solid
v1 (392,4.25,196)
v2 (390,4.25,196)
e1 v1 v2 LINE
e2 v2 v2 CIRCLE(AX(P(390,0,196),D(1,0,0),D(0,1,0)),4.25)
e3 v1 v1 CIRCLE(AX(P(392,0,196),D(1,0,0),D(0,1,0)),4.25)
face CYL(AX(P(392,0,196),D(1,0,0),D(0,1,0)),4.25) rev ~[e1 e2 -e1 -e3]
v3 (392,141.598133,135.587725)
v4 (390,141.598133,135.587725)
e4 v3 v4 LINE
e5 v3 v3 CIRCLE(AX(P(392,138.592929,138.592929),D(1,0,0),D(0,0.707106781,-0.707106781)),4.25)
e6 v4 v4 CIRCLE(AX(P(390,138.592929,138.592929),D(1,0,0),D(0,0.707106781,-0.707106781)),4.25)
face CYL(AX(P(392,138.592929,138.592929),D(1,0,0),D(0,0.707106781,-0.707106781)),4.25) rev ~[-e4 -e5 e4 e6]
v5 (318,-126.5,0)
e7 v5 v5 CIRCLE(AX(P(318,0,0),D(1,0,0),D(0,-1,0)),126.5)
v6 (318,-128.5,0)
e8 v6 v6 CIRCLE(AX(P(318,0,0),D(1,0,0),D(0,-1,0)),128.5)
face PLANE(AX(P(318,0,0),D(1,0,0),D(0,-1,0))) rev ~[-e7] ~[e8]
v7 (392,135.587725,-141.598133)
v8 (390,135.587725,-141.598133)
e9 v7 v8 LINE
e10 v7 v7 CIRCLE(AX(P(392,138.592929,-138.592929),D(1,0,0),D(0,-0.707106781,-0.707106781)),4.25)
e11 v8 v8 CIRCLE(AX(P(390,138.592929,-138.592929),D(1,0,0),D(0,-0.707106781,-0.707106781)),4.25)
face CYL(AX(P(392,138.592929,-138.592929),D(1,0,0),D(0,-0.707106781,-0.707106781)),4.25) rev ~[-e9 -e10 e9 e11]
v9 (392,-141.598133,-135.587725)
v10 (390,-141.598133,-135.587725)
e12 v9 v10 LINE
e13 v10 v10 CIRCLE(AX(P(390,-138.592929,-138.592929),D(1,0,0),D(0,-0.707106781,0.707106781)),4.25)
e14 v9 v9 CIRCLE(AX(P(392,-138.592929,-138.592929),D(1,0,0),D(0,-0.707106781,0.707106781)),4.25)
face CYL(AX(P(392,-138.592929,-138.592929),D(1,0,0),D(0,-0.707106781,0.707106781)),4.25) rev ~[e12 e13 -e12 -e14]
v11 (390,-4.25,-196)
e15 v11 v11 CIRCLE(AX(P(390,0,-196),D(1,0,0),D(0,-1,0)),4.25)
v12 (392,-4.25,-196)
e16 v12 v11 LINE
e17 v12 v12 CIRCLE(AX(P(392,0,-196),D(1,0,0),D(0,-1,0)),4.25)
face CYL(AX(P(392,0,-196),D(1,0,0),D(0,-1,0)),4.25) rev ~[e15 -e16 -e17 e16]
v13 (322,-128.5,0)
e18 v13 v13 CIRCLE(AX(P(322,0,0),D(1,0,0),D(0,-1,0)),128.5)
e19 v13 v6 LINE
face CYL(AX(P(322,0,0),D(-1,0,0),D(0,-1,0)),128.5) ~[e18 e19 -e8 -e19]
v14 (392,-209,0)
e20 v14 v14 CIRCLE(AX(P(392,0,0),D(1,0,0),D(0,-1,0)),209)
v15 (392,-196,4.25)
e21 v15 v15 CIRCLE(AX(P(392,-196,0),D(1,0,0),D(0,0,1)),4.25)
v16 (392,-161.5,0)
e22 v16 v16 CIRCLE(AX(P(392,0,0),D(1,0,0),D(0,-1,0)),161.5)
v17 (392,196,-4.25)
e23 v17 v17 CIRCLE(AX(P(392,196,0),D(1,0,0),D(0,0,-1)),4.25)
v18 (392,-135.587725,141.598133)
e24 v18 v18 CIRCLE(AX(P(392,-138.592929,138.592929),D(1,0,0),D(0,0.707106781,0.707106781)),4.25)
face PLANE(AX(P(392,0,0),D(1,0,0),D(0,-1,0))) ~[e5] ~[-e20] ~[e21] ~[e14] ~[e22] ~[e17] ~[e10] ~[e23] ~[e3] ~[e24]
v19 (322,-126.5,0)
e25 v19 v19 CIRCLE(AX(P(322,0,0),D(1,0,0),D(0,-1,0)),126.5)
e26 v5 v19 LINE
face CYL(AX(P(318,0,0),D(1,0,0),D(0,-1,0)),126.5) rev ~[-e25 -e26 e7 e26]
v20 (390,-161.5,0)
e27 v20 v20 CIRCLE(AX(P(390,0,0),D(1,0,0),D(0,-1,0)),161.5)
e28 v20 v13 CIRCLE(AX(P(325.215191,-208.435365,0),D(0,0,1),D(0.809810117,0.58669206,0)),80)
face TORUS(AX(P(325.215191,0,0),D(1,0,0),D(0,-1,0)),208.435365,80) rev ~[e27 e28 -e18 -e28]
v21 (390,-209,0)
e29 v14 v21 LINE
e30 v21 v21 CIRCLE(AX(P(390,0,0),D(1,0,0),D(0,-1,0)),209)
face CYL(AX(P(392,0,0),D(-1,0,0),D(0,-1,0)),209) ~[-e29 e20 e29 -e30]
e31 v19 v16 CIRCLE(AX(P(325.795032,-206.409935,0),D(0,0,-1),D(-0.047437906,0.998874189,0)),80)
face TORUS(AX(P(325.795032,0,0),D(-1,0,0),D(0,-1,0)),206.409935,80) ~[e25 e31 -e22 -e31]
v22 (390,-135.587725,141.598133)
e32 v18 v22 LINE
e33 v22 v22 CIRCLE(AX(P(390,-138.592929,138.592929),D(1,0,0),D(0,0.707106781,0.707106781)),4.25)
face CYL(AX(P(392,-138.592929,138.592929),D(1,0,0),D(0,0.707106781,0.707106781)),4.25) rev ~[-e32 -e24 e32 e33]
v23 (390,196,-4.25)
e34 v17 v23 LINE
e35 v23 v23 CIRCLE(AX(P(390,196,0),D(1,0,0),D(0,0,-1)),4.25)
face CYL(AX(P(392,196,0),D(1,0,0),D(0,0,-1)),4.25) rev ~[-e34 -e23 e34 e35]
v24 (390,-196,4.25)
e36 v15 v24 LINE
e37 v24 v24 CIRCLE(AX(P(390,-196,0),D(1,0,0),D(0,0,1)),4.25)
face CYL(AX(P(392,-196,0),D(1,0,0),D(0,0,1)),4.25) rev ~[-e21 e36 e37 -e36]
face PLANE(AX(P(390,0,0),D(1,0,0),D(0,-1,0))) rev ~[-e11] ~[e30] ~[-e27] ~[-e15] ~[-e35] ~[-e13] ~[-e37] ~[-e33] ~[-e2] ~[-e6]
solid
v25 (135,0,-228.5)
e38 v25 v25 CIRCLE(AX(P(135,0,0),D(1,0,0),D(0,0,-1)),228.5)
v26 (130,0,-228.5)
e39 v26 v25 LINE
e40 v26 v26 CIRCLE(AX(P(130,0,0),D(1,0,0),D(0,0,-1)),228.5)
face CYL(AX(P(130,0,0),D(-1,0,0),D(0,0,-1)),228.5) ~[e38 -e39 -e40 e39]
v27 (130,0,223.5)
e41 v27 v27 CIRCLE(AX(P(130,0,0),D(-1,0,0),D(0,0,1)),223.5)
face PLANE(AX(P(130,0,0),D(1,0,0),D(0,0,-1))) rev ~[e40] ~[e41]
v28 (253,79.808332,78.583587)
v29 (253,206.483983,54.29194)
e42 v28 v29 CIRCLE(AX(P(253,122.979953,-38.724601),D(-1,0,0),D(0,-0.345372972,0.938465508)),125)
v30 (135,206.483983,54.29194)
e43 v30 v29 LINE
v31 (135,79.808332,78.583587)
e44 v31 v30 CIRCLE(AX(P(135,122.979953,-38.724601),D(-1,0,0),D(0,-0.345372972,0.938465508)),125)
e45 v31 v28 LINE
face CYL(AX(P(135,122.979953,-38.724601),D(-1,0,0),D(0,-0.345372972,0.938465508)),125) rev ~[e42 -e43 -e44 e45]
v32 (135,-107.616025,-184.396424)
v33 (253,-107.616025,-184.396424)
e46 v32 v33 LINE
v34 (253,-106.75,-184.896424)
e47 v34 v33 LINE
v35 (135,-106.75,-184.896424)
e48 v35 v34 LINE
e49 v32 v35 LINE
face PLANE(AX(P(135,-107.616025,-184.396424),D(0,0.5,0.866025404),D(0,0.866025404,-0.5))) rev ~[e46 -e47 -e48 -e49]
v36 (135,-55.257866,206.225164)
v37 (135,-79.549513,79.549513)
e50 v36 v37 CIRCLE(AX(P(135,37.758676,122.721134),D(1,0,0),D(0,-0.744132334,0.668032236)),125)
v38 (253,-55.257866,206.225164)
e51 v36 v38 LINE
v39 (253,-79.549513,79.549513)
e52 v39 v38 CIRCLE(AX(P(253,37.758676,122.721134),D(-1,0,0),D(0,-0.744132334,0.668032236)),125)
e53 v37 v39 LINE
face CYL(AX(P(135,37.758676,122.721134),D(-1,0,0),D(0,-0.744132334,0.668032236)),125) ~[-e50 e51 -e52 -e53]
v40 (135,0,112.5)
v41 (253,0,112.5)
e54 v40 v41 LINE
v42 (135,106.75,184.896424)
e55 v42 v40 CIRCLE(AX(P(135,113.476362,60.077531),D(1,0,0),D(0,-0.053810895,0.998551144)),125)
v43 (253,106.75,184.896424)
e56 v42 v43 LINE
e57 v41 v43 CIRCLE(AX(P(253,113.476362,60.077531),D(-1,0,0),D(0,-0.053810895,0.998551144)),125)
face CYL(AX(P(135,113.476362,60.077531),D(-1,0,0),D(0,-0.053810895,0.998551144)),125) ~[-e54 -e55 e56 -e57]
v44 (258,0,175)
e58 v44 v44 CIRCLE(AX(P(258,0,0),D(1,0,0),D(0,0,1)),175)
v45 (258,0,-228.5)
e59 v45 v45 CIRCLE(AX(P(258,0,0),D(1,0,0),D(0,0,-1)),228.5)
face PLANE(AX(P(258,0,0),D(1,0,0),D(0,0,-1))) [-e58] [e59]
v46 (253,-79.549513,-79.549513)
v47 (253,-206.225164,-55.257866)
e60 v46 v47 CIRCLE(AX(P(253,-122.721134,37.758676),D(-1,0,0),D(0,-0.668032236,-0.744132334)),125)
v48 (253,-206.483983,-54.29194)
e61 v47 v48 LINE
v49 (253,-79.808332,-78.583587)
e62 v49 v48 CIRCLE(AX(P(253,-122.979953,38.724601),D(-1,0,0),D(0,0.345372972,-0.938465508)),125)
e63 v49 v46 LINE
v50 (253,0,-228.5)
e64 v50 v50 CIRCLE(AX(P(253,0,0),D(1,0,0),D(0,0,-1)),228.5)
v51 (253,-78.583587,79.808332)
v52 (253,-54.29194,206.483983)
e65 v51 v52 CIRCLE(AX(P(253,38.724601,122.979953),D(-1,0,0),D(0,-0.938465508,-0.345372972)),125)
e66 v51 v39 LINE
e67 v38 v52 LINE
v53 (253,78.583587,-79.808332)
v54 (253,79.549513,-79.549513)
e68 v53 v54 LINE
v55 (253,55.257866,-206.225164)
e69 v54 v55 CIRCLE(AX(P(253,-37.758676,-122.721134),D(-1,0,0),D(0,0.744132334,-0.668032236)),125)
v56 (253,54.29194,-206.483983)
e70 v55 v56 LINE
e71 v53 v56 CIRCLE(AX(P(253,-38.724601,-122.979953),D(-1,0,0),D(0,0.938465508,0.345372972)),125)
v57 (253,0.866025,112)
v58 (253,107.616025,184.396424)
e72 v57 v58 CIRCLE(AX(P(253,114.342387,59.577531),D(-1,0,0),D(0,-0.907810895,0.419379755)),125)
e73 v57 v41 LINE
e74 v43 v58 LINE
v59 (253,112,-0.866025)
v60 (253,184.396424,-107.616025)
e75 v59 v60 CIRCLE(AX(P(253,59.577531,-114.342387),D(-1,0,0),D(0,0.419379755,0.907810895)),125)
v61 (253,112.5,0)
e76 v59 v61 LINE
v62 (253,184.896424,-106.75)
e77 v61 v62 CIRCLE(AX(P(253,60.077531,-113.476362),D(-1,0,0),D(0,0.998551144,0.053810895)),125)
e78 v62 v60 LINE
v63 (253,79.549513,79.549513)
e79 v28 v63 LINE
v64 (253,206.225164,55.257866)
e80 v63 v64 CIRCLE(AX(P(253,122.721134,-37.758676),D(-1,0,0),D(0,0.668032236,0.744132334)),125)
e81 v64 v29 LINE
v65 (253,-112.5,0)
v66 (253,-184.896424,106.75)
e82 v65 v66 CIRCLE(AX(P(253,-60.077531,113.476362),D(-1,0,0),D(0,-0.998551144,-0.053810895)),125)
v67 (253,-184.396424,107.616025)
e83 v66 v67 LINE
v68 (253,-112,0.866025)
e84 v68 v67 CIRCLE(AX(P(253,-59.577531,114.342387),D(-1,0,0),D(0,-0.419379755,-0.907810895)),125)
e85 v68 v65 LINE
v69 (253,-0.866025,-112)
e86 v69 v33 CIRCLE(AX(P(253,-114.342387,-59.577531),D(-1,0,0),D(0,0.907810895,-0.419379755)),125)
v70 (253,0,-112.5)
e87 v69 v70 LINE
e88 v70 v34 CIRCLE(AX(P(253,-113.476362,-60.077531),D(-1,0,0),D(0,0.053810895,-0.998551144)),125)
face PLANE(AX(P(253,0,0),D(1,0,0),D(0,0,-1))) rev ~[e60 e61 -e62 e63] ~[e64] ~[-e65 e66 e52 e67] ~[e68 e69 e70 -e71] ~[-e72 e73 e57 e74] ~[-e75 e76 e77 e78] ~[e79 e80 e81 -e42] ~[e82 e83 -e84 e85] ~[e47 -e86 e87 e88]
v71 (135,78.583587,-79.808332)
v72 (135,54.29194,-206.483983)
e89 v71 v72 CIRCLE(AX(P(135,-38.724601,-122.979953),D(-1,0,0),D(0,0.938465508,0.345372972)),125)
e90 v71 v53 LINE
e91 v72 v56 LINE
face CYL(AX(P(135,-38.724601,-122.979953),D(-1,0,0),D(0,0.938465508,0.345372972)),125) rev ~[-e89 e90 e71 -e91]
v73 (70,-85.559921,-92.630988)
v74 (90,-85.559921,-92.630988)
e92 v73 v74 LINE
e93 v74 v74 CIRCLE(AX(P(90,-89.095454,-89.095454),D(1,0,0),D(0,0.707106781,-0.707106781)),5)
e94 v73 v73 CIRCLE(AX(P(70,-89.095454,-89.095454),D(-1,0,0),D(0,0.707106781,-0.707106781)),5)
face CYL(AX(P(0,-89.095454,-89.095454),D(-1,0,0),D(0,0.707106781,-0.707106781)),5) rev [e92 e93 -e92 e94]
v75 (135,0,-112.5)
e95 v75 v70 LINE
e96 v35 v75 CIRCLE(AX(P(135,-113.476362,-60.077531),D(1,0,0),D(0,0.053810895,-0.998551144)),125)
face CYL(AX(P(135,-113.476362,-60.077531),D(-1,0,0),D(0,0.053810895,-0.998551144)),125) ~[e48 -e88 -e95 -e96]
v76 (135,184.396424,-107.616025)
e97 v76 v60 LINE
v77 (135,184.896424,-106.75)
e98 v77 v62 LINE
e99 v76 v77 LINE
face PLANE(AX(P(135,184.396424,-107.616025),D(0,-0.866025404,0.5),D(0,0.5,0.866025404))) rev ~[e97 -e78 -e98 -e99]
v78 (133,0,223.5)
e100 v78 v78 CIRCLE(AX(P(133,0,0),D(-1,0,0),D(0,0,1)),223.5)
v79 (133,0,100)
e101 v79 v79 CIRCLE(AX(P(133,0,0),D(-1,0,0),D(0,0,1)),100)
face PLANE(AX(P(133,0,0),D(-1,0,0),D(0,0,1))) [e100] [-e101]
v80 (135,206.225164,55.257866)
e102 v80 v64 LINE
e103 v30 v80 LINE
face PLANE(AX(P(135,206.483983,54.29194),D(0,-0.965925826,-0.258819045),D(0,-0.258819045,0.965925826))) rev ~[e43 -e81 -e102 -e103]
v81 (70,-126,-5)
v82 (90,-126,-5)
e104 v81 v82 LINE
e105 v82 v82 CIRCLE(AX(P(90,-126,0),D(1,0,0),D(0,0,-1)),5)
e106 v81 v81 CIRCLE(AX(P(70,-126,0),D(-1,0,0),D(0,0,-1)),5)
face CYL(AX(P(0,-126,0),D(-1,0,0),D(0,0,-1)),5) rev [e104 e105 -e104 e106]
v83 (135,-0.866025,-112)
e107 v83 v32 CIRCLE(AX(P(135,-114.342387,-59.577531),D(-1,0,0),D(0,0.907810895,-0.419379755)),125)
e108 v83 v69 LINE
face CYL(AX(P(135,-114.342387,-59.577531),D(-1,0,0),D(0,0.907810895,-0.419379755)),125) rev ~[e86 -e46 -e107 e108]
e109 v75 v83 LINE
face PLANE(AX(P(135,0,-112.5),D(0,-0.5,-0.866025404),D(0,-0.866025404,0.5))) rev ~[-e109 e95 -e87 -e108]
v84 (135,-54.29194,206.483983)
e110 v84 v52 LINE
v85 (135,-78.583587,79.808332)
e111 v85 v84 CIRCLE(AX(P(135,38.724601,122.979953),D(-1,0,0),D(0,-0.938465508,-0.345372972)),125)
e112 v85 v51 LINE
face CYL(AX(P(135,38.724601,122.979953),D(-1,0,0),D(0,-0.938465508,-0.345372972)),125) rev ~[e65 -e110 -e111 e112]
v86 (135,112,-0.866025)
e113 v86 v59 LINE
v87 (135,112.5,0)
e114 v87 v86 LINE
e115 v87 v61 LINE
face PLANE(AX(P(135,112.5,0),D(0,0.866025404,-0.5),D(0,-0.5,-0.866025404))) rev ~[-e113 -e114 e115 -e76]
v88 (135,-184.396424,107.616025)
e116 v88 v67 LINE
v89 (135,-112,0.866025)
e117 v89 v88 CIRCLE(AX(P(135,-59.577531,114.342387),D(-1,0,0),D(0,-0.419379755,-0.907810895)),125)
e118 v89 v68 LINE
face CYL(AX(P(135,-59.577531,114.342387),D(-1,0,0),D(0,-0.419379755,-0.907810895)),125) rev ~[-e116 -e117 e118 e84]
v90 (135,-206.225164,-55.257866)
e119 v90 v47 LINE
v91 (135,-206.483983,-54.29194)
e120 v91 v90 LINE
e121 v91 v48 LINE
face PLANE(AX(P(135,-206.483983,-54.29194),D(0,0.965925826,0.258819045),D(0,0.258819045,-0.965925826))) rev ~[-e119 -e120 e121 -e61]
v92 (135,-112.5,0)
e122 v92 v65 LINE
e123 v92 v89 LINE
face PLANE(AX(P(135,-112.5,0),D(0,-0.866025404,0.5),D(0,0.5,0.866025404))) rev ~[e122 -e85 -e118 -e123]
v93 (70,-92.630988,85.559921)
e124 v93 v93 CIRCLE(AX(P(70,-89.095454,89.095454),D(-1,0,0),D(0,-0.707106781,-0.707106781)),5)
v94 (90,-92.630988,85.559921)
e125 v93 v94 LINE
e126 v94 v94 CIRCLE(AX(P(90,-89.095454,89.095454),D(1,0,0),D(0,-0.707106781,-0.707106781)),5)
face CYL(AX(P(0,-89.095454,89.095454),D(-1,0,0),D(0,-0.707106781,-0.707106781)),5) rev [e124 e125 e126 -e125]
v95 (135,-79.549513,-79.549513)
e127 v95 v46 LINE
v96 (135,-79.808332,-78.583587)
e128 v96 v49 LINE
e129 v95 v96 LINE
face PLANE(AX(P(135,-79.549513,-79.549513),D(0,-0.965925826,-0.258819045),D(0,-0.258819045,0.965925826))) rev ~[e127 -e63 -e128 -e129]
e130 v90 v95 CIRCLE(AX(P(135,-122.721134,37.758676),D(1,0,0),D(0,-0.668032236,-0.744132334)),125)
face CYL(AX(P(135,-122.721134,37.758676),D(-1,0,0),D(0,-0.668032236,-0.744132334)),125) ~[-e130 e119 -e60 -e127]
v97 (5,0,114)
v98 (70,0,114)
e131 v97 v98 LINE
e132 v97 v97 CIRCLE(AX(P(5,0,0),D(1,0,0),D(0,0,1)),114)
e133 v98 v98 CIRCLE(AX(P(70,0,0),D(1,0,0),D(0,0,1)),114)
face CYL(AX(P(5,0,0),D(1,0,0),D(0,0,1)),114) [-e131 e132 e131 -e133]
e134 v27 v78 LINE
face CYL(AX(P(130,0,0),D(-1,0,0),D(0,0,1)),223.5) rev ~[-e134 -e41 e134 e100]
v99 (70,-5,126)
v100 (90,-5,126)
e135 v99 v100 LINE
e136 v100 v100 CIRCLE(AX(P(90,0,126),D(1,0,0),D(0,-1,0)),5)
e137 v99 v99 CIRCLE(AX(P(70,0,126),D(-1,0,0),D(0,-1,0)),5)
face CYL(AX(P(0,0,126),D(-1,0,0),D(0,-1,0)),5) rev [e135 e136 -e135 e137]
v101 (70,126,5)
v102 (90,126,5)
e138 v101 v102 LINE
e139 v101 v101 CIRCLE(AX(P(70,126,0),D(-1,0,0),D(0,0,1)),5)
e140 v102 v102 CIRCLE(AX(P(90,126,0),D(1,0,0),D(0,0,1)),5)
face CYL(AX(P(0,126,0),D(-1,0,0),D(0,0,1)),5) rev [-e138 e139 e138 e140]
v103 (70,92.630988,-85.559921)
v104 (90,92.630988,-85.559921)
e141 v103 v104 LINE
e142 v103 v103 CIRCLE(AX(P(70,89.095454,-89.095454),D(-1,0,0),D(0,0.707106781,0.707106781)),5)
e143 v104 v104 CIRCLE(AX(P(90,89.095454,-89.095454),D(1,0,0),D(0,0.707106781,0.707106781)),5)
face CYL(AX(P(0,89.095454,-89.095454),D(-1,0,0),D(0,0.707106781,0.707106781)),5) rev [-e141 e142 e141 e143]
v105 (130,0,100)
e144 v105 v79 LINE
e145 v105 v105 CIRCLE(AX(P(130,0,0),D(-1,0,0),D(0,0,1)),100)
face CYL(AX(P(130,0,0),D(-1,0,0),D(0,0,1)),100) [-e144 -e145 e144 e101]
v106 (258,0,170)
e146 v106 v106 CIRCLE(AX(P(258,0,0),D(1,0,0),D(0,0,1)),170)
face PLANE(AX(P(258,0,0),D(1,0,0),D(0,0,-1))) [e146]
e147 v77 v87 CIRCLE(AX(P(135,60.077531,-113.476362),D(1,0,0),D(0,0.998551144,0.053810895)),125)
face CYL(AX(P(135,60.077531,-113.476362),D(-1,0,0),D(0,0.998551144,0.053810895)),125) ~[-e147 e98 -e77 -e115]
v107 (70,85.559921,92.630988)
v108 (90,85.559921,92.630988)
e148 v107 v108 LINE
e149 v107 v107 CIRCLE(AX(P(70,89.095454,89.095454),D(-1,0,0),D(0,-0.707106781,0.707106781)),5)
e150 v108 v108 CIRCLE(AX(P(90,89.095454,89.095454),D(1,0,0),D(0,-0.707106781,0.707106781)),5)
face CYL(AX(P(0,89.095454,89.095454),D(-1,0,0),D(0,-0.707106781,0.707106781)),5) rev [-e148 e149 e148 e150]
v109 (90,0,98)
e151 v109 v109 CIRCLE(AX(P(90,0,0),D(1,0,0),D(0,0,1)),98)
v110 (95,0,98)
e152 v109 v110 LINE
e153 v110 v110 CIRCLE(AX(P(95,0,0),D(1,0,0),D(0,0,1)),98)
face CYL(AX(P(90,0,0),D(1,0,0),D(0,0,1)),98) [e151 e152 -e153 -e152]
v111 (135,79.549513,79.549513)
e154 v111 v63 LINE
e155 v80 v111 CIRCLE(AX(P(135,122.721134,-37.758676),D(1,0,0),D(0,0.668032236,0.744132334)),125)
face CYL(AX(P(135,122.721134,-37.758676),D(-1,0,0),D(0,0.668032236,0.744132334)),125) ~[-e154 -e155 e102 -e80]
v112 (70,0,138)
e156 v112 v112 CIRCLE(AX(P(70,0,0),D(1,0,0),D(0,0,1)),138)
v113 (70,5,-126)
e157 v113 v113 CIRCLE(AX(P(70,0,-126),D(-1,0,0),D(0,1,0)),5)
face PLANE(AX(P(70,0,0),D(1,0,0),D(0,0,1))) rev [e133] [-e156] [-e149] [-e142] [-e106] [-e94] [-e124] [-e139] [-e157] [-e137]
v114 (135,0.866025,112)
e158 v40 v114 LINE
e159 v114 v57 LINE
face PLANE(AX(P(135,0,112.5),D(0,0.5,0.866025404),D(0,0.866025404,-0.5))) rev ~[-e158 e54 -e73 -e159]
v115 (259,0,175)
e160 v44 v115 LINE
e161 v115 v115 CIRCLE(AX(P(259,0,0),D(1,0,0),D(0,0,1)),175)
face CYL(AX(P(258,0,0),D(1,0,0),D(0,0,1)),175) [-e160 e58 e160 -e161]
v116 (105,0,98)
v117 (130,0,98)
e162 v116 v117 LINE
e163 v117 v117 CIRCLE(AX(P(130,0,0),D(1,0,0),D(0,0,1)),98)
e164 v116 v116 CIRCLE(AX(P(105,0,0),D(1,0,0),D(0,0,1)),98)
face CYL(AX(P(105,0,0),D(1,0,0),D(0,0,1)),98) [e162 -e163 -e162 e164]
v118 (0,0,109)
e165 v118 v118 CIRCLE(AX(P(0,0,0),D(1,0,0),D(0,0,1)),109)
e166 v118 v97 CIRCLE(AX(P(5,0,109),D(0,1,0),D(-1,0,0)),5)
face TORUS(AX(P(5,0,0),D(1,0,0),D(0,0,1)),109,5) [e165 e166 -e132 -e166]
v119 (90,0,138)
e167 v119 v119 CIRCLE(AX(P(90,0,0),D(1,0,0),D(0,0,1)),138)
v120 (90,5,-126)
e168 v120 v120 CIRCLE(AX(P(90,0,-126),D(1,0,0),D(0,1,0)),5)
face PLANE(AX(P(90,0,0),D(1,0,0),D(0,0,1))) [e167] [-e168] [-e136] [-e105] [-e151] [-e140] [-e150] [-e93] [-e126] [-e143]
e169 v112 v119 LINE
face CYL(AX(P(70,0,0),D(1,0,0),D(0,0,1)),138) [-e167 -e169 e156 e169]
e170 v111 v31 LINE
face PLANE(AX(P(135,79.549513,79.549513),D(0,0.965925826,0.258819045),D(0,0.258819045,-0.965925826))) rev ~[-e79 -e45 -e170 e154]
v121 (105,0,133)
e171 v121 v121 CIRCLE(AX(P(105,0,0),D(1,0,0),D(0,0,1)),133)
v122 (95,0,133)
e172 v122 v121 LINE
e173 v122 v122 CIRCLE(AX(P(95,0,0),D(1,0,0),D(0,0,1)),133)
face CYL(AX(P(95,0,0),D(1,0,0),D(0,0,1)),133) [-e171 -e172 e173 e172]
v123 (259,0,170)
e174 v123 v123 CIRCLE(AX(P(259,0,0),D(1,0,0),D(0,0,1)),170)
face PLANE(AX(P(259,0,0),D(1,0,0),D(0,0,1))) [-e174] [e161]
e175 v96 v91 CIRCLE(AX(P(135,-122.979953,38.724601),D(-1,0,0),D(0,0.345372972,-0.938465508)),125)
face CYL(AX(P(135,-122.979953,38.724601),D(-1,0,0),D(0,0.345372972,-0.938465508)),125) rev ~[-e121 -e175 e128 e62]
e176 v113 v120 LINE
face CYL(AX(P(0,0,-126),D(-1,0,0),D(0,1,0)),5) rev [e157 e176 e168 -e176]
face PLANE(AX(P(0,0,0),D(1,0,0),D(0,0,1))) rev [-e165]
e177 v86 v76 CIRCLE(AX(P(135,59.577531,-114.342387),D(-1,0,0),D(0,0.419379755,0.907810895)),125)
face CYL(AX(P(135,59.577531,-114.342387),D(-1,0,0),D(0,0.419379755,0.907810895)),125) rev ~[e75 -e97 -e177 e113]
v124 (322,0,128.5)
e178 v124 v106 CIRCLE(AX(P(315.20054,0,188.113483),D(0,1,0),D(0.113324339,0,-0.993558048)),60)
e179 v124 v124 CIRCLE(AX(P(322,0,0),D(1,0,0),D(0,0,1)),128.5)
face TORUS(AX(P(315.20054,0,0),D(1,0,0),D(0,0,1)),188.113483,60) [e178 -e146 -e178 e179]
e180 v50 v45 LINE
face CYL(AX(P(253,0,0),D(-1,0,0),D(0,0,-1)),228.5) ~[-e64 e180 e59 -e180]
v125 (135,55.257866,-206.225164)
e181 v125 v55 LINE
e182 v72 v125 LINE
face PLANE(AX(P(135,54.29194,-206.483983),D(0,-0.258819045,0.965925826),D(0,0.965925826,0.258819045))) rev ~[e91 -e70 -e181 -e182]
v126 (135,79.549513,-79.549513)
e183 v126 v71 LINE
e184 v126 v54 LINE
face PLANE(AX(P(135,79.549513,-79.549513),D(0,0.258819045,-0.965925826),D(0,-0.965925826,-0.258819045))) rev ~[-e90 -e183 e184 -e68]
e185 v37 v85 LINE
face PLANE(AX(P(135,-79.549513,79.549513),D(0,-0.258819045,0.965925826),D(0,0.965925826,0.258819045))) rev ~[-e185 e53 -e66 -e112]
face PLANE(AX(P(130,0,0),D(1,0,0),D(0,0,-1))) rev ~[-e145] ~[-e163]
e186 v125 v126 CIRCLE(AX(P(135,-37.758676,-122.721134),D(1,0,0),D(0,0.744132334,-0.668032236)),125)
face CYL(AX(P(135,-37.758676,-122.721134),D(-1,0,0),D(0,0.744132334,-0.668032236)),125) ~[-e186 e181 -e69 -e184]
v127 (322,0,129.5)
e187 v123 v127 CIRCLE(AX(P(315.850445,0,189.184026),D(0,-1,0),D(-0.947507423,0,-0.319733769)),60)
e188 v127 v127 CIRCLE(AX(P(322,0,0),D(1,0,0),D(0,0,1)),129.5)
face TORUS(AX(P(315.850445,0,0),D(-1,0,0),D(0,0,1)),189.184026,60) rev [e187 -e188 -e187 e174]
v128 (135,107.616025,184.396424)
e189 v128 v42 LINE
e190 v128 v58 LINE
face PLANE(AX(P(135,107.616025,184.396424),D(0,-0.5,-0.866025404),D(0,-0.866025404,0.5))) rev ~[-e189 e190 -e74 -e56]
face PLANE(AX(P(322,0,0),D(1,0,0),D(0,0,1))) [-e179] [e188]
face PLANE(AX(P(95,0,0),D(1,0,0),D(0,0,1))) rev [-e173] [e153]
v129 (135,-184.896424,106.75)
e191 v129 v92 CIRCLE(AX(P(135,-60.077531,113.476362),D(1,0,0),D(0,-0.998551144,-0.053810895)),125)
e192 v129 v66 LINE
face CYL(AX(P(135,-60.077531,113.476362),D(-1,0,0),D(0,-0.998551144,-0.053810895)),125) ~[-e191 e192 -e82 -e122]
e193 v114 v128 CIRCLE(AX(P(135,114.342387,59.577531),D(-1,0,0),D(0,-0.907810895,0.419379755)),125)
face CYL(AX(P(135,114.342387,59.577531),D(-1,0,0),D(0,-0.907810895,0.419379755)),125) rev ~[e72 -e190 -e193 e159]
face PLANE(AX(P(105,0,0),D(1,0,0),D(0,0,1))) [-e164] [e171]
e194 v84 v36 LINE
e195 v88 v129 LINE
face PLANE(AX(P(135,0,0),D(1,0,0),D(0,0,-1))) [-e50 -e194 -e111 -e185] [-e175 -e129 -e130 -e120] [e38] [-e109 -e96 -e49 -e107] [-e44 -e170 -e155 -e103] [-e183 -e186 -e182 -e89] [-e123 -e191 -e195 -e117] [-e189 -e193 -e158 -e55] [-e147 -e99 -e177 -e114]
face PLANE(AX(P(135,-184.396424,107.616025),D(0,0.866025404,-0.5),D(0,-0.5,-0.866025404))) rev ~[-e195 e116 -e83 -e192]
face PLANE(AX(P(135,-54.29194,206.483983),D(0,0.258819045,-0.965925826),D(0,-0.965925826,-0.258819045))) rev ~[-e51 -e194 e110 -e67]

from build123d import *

# Parameters (mm, degrees)
SKETCH2_R         = 228.5
EXTRUDE1_DEPTH    = 5
SKETCH9_R         = 223.5
SKETCH9_R_2       = 100
EXTRUDE7_DEPTH    = 3
SKETCH3_R         = 228.5
EXTRUDE2_DEPTH    = 5
EXTRUDE3_DEPTH    = 123
CIRPATTERN1_COUNT = 8
SKETCH7_R         = 4.25
EXTRUDE5_DEPTH    = 5
CIRPATTERN2_COUNT = 8
SKETCH8_R         = 5
EXTRUDE6_DEPTH    = 90
CIRPATTERN3_COUNT = 8


with BuildPart() as part:
    # Sketch1 → Revolve1 (revolve)
    with BuildSketch(Plane.XY, mode=Mode.PRIVATE) as revolve1_sk:
        with BuildLine():
            Line((0, 0), (0, 109))
            ThreePointArc((0, 109), (1.464466094, 112.535533906), (5, 114))
            Line((5, 114), (70, 114))
            Line((70, 114), (70, 138))
            Line((70, 138), (90, 138))
            Line((90, 138), (90, 98))
            Line((90, 98), (95, 98))
            Line((95, 98), (95, 133))
            Line((95, 133), (105, 133))
            Line((105, 133), (105, 98))
            Line((105, 98), (130, 98))
            Line((130, 98), (130, 0))
            Line((130, 0), (0, 0))
        make_face()
    revolve(revolve1_sk.sketch.rotate(Axis((0, 0, 0), (1, 0, 0)), 90), axis=Axis((0, 0, 0), (1, 0, 0)))

    # Sketch2 → Extrude1 (add)
    with BuildSketch(Plane(origin=(130, 0, 0), x_dir=(0, 0, -1), z_dir=(1, 0, 0))):
        Circle(SKETCH2_R)
    extrude(amount=EXTRUDE1_DEPTH)

    # Sketch9 → Extrude7 (cut)
    with BuildSketch(Plane.ZY.offset(-130)):
        Circle(SKETCH9_R)
        Circle(SKETCH9_R_2, mode=Mode.SUBTRACT)
    extrude(amount=-EXTRUDE7_DEPTH, mode=Mode.SUBTRACT)



with BuildPart() as body_2:
    # Sketch3 → Extrude2 (new body)
    with BuildSketch(Plane(origin=(253, 0, 0), x_dir=(0, 0, -1), z_dir=(1, 0, 0))):
        Circle(SKETCH3_R)
    extrude(amount=EXTRUDE2_DEPTH)


with BuildPart() as part_1:
    add(part.part)

    add(body_2.part)  # Extrude3 merges body 2
    # Sketch4 → Extrude3 (add)
    with BuildSketch(Plane(origin=(135, 0, 0), x_dir=(0, 0, -1), z_dir=(1, 0, 0))):
        with BuildLine():
            Line((0, 112.5), (0.866025404, 112))
            ThreePointArc((0.866025404, 112), (44.181969378, 163.030494663), (107.616025404, 184.396423708))
            Line((107.616025404, 184.396423708), (106.75, 184.896423708))
            ThreePointArc((106.75, 184.896423708), (43.315943974, 163.530494663), (0, 112.5))
        make_face()
    extrude3 = extrude(amount=EXTRUDE3_DEPTH)

    # CirPattern1: Extrude3 ×8 about axis
    cirpattern1_axis = Axis((0, 0, 0), (1, 0, 0))
    for i in range(1, CIRPATTERN1_COUNT):
        add(extrude3.rotate(cirpattern1_axis, i * 360 / CIRPATTERN1_COUNT))

    # Sketch5 → Revolve2 (revolve)
    with BuildSketch(Plane.XY, mode=Mode.PRIVATE) as revolve2_sk:
        with BuildLine():
            Line((258, 175), (259, 175))
            Line((259, 175), (259, 170))
            ThreePointArc((259, 170), (283.404989906, 138.713317632), (322, 129.5))
            Line((322, 129.5), (322, 128.5))
            ThreePointArc((322, 128.5), (282.556555543, 137.770953127), (258, 170))
            Line((258, 170), (258, 175))
        make_face()
    revolve(revolve2_sk.sketch.rotate(Axis((0, 0, 0), (1, 0, 0)), 90), axis=Axis((0, 0, 0), (1, 0, 0)))

    # Sketch8 → Extrude6 (cut)
    with BuildSketch(Plane(origin=(0, 0, 0), x_dir=(0, 0, -1), z_dir=(1, 0, 0))):
        with Locations(Location((0, 126, 0), (0, 0, 180))):
            Circle(SKETCH8_R)
    extrude6 = extrude(amount=EXTRUDE6_DEPTH, mode=Mode.SUBTRACT)

    # CirPattern3: Extrude6 ×8 about axis
    cirpattern3_axis = Axis((0, 0, 0), (1, 0, 0))
    for i in range(1, CIRPATTERN3_COUNT):
        add(extrude6.rotate(cirpattern3_axis, i * 360 / CIRPATTERN3_COUNT), mode=Mode.SUBTRACT)


with BuildPart() as body_2_2:
    # Sketch6 → Revolve3 (revolve)
    with BuildSketch(Plane.XY, mode=Mode.PRIVATE) as revolve3_sk:
        with BuildLine():
            Line((392, 209), (390, 209))
            Line((390, 209), (390, 161.5))
            ThreePointArc((390, 161.5), (360.14303751, 136.462831797), (322, 128.5))
            Line((322, 128.5), (318, 128.5))
            Line((318, 128.5), (318, 126.5))
            Line((318, 126.5), (322, 126.5))
            ThreePointArc((322, 126.5), (361.572120087, 134.855759827), (392, 161.5))
            Line((392, 161.5), (392, 209))
        make_face()
    revolve(revolve3_sk.sketch.rotate(Axis((0, 0, 0), (1, 0, 0)), 180), axis=Axis((0, 0, 0), (1, 0, 0)))

    # Sketch7 → Extrude5 (cut)
    with BuildSketch(Plane(origin=(392, 0, 0), x_dir=(0, 0, -1), z_dir=(1, 0, 0))):
        with Locations((0, 196)):
            Circle(SKETCH7_R)
    extrude5 = extrude(amount=-EXTRUDE5_DEPTH, mode=Mode.SUBTRACT)

    # CirPattern2: Extrude5 ×8 about axis
    cirpattern2_axis = Axis((0, 0, 0), (1, 0, 0))
    for i in range(1, CIRPATTERN2_COUNT):
        add(extrude5.rotate(cirpattern2_axis, i * 360 / CIRPATTERN2_COUNT), mode=Mode.SUBTRACT)


solid = Compound([part_1.part, body_2_2.part])
